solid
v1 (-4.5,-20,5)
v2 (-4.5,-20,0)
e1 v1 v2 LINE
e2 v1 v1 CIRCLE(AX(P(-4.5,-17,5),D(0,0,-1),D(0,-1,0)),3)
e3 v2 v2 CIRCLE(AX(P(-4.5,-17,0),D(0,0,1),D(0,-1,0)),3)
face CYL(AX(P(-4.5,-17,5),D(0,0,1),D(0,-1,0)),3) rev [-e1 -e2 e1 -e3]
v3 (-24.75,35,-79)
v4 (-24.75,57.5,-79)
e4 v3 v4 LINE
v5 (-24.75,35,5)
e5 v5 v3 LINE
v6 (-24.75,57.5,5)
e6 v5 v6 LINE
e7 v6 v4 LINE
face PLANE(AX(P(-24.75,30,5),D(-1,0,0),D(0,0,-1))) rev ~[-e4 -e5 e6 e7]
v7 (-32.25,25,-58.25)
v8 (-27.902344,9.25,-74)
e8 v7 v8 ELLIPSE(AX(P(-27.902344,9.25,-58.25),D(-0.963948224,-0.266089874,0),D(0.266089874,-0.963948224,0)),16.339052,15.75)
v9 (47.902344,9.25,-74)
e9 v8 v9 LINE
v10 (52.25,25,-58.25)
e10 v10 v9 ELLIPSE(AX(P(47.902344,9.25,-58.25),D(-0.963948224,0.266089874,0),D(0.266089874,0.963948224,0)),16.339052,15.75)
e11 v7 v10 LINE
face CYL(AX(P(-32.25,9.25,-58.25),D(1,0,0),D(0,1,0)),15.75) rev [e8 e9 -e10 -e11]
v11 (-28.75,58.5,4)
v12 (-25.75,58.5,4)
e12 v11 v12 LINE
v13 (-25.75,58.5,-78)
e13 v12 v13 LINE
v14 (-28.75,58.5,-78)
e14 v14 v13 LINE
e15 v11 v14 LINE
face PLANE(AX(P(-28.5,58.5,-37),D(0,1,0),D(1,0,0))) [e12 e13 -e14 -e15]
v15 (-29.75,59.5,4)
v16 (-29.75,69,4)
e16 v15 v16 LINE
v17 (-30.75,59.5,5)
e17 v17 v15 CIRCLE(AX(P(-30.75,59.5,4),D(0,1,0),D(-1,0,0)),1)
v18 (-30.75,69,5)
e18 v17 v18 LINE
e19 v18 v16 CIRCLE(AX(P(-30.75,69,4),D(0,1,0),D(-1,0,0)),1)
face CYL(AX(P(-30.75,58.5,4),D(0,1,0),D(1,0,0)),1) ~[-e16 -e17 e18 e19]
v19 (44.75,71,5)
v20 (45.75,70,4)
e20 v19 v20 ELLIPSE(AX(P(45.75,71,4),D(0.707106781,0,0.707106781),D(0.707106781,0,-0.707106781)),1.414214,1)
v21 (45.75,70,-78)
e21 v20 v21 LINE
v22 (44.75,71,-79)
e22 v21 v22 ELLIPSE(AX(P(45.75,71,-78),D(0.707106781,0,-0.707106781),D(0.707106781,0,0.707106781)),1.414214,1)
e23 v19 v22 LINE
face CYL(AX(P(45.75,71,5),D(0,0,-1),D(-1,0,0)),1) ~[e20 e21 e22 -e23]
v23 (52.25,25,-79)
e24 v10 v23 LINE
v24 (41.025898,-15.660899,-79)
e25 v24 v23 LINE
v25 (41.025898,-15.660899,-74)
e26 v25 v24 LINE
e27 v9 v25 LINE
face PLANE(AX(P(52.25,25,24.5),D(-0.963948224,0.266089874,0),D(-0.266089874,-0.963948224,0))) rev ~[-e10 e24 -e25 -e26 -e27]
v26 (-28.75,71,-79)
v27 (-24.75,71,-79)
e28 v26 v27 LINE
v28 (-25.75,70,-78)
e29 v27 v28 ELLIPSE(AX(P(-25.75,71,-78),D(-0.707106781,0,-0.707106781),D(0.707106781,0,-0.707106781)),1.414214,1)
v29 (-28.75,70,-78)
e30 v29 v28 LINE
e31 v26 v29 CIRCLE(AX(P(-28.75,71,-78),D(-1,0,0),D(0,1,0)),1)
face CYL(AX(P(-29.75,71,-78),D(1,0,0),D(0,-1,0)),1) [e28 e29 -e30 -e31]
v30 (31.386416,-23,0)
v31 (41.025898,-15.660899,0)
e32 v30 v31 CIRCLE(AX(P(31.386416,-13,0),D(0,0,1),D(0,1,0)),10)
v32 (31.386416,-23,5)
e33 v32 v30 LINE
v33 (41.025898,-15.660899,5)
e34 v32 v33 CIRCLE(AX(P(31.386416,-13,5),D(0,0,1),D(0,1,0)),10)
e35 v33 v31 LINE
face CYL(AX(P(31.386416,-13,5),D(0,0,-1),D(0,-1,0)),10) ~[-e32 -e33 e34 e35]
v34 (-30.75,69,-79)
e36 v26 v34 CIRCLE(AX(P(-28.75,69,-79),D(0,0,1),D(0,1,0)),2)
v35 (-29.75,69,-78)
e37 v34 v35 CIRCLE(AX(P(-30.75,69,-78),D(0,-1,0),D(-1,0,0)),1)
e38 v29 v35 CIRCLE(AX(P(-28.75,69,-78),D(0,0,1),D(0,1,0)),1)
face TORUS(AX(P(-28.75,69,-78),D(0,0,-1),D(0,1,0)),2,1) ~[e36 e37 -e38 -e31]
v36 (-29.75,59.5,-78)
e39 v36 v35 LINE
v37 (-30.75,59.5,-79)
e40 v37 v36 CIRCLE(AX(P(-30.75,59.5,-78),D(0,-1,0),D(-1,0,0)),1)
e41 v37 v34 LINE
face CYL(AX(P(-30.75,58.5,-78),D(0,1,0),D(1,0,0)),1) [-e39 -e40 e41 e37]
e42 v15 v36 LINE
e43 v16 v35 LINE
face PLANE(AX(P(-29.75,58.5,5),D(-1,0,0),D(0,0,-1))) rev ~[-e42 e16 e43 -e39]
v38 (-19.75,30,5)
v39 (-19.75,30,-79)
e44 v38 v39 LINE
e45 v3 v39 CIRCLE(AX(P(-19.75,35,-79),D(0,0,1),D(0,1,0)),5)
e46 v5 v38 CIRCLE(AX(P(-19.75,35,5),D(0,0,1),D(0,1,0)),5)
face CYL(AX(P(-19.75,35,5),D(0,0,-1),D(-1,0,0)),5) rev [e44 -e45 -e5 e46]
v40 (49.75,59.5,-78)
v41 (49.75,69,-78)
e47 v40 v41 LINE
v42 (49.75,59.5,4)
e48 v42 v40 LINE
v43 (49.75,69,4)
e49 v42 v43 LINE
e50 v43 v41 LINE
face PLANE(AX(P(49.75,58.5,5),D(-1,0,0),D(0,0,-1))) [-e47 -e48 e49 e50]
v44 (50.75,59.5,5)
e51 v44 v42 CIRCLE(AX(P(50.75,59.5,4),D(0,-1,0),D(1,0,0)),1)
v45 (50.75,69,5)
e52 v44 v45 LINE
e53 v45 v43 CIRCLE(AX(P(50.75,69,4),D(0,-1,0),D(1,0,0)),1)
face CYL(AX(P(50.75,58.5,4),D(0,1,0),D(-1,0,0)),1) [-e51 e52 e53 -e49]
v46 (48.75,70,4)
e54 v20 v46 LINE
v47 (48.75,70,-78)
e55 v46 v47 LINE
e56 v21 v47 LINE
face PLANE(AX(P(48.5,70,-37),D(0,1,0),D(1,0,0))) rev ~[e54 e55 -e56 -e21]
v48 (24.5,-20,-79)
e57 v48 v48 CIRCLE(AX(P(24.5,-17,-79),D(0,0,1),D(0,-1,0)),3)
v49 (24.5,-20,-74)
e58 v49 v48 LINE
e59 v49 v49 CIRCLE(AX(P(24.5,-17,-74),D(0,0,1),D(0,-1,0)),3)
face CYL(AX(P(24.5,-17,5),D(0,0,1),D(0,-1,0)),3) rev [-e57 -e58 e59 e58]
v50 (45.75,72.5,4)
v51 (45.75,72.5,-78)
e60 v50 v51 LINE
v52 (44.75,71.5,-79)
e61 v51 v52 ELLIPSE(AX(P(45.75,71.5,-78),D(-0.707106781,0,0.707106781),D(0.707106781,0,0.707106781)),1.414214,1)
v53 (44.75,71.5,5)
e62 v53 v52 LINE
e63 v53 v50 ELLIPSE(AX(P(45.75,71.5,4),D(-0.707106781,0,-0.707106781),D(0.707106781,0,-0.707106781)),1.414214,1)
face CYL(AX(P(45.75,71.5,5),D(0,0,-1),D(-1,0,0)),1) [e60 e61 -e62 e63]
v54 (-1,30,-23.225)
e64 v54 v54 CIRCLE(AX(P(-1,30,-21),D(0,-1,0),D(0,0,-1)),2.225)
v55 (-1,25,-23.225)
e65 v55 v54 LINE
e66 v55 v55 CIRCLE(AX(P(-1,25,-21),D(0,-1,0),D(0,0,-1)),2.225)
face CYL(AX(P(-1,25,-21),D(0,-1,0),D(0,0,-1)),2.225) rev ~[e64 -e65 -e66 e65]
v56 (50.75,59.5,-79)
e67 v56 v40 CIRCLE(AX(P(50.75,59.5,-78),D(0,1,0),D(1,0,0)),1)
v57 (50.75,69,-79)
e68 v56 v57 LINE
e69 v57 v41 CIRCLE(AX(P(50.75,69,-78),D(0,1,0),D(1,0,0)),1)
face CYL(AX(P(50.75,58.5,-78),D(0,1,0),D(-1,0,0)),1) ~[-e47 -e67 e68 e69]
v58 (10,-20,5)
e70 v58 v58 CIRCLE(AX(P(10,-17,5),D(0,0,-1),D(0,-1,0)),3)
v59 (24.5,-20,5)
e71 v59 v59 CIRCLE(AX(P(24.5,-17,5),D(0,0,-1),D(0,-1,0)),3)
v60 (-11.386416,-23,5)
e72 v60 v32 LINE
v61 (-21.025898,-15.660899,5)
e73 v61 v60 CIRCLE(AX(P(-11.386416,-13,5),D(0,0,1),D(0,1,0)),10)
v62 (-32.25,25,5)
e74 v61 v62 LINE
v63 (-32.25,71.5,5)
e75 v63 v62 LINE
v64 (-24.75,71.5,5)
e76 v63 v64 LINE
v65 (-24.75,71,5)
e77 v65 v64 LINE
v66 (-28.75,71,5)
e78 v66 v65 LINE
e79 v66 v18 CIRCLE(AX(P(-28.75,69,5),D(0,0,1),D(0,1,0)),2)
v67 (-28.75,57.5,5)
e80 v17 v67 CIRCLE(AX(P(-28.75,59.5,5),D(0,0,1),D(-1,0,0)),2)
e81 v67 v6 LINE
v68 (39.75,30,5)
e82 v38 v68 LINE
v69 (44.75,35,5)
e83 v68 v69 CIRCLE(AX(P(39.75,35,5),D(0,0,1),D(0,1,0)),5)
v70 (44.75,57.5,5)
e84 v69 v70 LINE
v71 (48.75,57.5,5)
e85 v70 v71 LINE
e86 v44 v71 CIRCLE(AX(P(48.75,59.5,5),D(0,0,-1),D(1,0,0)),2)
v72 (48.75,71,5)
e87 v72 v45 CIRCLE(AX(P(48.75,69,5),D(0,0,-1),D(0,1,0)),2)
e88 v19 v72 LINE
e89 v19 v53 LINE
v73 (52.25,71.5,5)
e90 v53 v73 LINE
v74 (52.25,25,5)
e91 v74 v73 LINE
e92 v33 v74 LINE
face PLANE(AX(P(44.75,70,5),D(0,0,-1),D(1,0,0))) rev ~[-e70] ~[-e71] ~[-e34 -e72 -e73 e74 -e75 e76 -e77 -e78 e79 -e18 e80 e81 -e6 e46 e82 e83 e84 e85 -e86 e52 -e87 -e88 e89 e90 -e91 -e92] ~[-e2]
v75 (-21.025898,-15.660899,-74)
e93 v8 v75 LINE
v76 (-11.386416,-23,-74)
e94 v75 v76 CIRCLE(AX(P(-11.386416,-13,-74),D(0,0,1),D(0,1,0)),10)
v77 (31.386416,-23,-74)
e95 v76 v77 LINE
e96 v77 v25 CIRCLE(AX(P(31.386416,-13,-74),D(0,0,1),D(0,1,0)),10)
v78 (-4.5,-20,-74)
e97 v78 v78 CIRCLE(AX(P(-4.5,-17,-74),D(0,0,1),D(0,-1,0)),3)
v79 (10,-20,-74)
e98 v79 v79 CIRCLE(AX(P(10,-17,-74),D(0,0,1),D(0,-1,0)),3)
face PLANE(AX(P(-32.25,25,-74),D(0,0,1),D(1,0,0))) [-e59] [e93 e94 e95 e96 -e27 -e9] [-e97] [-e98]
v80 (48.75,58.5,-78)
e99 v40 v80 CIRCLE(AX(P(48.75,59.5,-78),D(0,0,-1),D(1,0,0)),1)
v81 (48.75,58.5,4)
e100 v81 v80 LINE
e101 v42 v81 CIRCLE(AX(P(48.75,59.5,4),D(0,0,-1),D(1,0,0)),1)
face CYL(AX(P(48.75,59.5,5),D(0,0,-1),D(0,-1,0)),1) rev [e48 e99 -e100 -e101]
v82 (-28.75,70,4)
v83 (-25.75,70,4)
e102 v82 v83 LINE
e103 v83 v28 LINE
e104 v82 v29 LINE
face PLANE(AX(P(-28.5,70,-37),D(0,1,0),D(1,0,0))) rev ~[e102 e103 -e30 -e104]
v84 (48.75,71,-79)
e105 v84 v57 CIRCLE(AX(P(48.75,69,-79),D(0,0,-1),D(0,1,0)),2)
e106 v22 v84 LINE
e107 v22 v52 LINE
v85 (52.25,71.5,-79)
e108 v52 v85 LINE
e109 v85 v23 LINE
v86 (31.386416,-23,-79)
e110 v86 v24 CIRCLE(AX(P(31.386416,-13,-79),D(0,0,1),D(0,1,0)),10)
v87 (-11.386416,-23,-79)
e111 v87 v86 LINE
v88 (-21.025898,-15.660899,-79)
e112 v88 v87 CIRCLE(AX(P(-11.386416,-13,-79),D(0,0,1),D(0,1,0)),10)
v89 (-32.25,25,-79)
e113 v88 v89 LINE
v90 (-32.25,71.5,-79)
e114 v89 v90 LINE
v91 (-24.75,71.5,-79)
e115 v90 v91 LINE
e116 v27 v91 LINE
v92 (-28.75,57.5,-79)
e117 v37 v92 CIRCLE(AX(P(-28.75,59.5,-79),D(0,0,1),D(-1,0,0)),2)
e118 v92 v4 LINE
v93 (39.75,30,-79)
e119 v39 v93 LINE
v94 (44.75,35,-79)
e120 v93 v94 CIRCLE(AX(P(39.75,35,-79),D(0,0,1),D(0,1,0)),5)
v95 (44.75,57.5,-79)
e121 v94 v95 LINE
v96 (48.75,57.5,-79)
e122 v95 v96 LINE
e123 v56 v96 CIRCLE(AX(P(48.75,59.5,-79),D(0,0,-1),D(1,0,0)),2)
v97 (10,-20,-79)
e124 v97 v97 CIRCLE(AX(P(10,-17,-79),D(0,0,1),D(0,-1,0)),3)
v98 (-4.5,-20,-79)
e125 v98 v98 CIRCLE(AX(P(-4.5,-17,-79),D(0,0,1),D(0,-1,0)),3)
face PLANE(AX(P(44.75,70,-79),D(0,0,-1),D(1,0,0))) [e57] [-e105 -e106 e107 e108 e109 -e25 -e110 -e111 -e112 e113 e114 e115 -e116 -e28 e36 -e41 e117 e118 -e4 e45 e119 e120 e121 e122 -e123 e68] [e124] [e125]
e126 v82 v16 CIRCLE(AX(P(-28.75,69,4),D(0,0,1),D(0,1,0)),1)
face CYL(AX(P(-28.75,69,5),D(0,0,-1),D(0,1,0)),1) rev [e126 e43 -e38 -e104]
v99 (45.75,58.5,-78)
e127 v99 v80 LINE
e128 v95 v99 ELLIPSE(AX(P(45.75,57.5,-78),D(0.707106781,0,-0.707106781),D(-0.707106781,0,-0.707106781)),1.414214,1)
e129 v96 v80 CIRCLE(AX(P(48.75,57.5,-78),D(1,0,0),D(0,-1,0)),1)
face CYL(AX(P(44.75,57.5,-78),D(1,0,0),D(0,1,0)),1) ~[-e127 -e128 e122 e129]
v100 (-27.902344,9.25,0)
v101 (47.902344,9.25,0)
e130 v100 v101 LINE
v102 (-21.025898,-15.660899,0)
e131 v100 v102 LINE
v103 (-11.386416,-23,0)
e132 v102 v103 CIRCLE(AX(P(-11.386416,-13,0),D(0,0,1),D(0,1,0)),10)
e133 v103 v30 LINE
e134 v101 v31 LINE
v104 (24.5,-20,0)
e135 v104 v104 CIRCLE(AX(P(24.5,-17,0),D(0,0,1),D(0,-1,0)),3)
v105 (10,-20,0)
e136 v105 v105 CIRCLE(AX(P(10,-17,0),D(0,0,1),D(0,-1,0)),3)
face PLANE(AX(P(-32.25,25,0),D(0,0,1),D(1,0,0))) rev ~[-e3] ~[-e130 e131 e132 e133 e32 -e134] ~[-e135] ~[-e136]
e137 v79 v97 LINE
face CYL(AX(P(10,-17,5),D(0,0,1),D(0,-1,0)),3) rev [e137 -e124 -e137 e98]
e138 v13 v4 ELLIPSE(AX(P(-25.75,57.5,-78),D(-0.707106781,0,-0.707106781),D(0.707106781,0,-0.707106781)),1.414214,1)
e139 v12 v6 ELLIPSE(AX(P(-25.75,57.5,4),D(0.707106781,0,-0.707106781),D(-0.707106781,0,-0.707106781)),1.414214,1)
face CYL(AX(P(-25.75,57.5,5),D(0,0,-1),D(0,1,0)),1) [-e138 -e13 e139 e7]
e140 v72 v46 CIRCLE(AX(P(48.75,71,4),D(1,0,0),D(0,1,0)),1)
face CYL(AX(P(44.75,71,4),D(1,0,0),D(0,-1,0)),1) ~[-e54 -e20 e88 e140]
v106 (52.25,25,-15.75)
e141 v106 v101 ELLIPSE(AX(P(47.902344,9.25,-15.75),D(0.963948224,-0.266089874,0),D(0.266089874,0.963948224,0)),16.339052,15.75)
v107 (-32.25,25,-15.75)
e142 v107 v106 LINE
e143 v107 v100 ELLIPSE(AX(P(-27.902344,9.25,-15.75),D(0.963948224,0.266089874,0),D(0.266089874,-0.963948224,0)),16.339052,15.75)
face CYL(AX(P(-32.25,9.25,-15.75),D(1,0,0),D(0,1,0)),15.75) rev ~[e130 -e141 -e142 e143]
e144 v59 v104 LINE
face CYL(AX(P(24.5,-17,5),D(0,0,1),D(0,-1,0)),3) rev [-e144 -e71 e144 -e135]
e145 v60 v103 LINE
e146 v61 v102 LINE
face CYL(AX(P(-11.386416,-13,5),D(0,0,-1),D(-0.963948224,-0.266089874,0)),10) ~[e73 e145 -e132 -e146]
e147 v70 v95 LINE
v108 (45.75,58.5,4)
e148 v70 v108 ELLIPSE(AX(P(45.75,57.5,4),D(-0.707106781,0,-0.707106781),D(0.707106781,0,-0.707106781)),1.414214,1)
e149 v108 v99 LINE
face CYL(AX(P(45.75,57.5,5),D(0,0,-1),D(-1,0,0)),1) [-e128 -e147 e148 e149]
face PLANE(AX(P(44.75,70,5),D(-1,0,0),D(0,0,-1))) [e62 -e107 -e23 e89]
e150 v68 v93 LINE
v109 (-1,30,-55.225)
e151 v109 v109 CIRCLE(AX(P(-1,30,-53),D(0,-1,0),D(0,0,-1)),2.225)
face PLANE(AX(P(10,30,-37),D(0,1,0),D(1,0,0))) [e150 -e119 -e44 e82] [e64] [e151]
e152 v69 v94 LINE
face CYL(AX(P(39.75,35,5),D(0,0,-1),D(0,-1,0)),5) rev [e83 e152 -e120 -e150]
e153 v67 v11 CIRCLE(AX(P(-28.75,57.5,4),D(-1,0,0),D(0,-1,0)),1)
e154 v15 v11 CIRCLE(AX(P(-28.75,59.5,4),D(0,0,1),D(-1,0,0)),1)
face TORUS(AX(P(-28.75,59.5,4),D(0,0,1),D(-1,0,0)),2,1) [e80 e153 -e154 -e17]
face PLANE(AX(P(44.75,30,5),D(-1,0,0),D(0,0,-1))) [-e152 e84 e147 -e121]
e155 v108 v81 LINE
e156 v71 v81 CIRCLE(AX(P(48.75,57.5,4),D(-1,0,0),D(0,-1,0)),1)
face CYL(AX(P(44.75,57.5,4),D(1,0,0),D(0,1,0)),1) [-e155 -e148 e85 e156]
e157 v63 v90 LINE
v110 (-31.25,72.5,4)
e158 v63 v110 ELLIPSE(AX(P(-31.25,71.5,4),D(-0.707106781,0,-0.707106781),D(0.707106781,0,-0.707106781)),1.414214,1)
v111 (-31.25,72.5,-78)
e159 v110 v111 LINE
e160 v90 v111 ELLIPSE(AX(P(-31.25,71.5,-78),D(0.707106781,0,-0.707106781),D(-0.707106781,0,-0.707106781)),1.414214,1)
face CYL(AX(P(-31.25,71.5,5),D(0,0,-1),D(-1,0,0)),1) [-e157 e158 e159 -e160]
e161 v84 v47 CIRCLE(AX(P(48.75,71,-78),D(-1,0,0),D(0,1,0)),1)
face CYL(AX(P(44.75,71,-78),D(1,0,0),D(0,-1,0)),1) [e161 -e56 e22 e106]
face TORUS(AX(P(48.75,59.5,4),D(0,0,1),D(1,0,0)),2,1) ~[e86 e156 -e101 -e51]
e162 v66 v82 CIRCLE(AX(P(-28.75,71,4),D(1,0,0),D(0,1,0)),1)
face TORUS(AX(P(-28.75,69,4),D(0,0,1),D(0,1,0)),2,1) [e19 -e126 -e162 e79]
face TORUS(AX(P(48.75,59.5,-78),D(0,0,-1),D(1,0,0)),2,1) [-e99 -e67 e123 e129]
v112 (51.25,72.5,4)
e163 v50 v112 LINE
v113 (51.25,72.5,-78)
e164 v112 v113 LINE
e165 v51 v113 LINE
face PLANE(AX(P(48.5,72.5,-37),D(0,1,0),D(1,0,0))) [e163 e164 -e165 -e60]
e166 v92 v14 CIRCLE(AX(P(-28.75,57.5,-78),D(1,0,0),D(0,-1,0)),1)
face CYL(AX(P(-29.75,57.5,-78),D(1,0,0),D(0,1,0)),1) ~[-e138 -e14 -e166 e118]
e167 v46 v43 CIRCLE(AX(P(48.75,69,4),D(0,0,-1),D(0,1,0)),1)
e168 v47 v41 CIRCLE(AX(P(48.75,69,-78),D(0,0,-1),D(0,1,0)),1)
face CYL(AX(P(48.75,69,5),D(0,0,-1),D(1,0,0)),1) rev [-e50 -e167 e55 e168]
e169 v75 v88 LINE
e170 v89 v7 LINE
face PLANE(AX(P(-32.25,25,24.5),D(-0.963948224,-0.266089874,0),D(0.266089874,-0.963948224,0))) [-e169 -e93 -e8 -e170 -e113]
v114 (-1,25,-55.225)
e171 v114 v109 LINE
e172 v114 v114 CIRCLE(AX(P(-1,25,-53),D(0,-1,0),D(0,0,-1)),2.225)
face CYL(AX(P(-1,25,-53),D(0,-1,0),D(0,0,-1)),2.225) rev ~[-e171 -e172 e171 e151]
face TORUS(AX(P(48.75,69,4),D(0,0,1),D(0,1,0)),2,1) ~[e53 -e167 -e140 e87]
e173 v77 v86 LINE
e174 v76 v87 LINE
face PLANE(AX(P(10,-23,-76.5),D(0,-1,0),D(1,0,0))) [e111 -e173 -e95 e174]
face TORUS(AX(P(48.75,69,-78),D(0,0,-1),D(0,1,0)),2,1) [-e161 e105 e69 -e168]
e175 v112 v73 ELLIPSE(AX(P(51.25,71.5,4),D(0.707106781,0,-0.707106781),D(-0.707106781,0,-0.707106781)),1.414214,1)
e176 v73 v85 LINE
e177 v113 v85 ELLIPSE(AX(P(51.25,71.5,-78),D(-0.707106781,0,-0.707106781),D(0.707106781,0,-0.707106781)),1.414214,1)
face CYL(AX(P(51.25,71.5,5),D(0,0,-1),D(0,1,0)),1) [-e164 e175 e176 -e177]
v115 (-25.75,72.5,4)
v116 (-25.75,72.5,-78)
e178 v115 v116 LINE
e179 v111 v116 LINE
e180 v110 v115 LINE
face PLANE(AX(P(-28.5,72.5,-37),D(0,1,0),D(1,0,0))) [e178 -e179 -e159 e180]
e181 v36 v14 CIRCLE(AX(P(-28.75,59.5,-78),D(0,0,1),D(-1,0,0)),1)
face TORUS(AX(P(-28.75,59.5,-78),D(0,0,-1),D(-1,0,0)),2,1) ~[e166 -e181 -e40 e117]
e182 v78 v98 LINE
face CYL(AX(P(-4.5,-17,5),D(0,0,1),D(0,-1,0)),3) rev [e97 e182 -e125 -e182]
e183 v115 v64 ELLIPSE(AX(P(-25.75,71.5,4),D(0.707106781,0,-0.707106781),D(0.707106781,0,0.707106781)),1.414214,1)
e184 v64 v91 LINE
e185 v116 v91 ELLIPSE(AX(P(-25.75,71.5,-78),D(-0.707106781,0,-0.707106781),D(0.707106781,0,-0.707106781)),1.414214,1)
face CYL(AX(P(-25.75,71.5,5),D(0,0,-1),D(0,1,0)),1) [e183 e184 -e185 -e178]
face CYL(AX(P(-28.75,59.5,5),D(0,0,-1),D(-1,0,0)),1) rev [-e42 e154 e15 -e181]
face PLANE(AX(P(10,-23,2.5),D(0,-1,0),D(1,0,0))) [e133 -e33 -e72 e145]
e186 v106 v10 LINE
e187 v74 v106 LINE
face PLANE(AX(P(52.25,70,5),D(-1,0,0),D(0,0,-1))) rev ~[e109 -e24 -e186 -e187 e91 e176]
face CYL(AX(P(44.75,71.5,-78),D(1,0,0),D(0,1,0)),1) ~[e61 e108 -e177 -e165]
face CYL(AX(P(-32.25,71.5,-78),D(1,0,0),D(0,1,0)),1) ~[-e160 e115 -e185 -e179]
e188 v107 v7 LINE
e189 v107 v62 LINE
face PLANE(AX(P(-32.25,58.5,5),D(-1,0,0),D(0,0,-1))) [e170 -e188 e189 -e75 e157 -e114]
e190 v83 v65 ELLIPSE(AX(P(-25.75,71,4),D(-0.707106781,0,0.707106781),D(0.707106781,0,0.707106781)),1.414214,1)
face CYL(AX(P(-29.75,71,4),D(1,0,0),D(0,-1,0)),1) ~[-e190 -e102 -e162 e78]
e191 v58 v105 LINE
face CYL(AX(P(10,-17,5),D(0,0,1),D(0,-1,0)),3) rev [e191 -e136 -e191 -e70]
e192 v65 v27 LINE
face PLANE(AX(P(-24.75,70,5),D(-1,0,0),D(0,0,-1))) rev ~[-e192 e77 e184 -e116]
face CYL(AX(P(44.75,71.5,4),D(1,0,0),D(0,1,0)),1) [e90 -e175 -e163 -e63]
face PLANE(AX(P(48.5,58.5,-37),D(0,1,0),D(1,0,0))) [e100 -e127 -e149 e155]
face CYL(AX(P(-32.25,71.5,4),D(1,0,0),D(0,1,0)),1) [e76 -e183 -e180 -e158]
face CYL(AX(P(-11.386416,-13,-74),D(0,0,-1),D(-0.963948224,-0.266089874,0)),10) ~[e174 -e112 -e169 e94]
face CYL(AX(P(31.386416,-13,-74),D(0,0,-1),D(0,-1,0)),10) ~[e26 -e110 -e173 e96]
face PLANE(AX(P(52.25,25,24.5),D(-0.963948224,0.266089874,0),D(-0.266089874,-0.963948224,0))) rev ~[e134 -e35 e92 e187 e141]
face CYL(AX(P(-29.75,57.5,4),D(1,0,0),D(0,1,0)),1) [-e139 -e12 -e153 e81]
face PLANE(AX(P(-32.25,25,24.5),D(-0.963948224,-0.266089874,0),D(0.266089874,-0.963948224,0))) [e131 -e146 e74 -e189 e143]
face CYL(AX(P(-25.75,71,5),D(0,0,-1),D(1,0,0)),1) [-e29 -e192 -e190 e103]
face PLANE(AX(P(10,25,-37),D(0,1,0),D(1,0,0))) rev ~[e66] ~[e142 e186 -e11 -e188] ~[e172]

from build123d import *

# Parameters (mm, degrees)
SKETCH4_W               = 84.5
SKETCH4_H               = 84
BOSS_EXTRUDE1_DEPTH     = 5
SKETCH5_W               = 84.5
SKETCH5_H               = 5
BOSS_EXTRUDE2_DEPTH     = 48
SKETCH6_R               = 2.225
CUT_EXTRUDE1_DEPTH      = 48
SKETCH7_W               = 7.5
SKETCH7_H               = 84
BOSS_EXTRUDE3_DEPTH     = 28.5
SKETCH8_W               = 2.5
SKETCH8_H               = 84
BOSS_EXTRUDE4_DEPTH     = 11.5
CUT_EXTRUDE2_DEPTH      = 93
CUT_EXTRUDE2_DEPTH_BACK = 5
SKETCH9_R               = 3
SKETCH10_W              = 7.5
SKETCH10_H              = 84
BOSS_EXTRUDE5_DEPTH     = 2.5
FILLET1_R               = 1
CUT_EXTRUDE3_DEPTH      = 88
CUT_EXTRUDE3_DEPTH_BACK = 24.5
FILLET2_R               = 10
FILLET3_R               = 5
FILLET4_R               = 15.75


with BuildPart() as part:
    # Sketch4 → Boss-Extrude1 (new body)
    with BuildSketch(Plane(origin=(0, 25, 0), x_dir=(1, 0, 0), z_dir=(0, 1, 0))):
        with Locations((10, 37)):
            Rectangle(SKETCH4_W, SKETCH4_H)
    extrude(amount=BOSS_EXTRUDE1_DEPTH)

    # Sketch5 → Boss-Extrude2 (add)
    with BuildSketch(Plane.XZ.offset(-25)):
        with Locations((10, 2.5)):
            Rectangle(SKETCH5_W, SKETCH5_H)
        with Locations((10, -76.5)):
            Rectangle(SKETCH5_W, SKETCH5_H)
    extrude(amount=BOSS_EXTRUDE2_DEPTH)

    # Sketch6 → Cut-Extrude1 (cut)
    with BuildSketch(Plane.XZ.offset(-25)):
        with Locations(Location((-1, -21, 0), (0, 0, 270))):
            Circle(SKETCH6_R)
        with Locations(Location((-1, -53, 0), (0, 0, 270))):
            Circle(SKETCH6_R)
    extrude(amount=-CUT_EXTRUDE1_DEPTH, mode=Mode.SUBTRACT)

    # Sketch7 → Boss-Extrude3 (add)
    with BuildSketch(Plane(origin=(0, 30, 0), x_dir=(1, 0, 0), z_dir=(0, 1, 0))):
        with Locations((-28.5, 37)):
            Rectangle(SKETCH7_W, SKETCH7_H)
        with Locations((48.5, 37)):
            Rectangle(SKETCH7_W, SKETCH7_H)
    extrude(amount=BOSS_EXTRUDE3_DEPTH)

    # Sketch8 → Boss-Extrude4 (add)
    with BuildSketch(Plane(origin=(0, 58.5, 0), x_dir=(1, 0, 0), z_dir=(0, 1, 0))):
        with Locations((-31, 37)):
            Rectangle(SKETCH8_W, SKETCH8_H)
        with Locations((51, 37)):
            Rectangle(SKETCH8_W, SKETCH8_H)
    extrude(amount=BOSS_EXTRUDE4_DEPTH)

    # Sketch9 → Cut-Extrude2 (cut, two sides: drawn at the far end of the back side and taken through both)
    with BuildSketch(Plane(origin=(0, 0, 0), x_dir=(-1, 0, 0), z_dir=(0, 0, -1)).offset(-CUT_EXTRUDE2_DEPTH_BACK)):
        with Locations(Location((-10, -17, 0), (0, 0, 270))):
            Circle(SKETCH9_R)
        with Locations(Location((-24.5, -17, 0), (0, 0, 270))):
            Circle(SKETCH9_R)
        with Locations(Location((4.5, -17, 0), (0, 0, 270))):
            Circle(SKETCH9_R)
    extrude(amount=CUT_EXTRUDE2_DEPTH + CUT_EXTRUDE2_DEPTH_BACK, mode=Mode.SUBTRACT)

    # Sketch10 → Boss-Extrude5 (add)
    with BuildSketch(Plane(origin=(0, 70, 0), x_dir=(1, 0, 0), z_dir=(0, 1, 0))):
        with Locations((48.5, 37)):
            Rectangle(SKETCH10_W, SKETCH10_H)
        with Locations((-28.5, 37)):
            Rectangle(SKETCH10_W, SKETCH10_H)
    extrude(amount=BOSS_EXTRUDE5_DEPTH)

    # Fillet1
    fillet1_edges = [part.edges().sort_by_distance(p)[0] for p in [
        (47.25, 70, -79),
        (44.75, 70, -37),
        (47.25, 70, 5),
        (52.25, 72.5, -37),
        (48.5, 72.5, -79),
        (44.75, 72.5, -37),
        (48.5, 72.5, 5),
        (-27.25, 70, 5),
        (-24.75, 70, -37),
        (-27.25, 70, -79),
        (-32.25, 72.5, -37),
        (-28.5, 72.5, 5),
        (-24.75, 72.5, -37),
        (-28.5, 72.5, -79),
        (-24.75, 58.5, -37),
        (-27.25, 58.5, -79),
        (44.75, 58.5, -37),
        (47.25, 58.5, 5),
        (-27.25, 58.5, 5),
        (47.25, 58.5, -79),
        (-29.75, 58.5, -37),
        (-29.75, 64.25, 5),
        (-29.75, 64.25, -79),
        (-29.75, 70, -37),
        (49.75, 58.5, -37),
        (49.75, 64.25, -79),
        (49.75, 64.25, 5),
        (49.75, 70, -37),
    ]]
    fillet(fillet1_edges, radius=FILLET1_R)

    # Sketch11 → Cut-Extrude3 (cut, two sides: drawn at the far end of the back side and taken through both)
    with BuildSketch(Plane(origin=(0, 0, 0), x_dir=(-1, 0, 0), z_dir=(0, 0, -1)).offset(-CUT_EXTRUDE3_DEPTH_BACK)):
        Polygon((19, -23), (32.25, -23), (32.25, 25), align=None)
        Polygon((-39, -23), (-52.25, -23), (-52.25, 25), align=None)
    extrude(amount=CUT_EXTRUDE3_DEPTH + CUT_EXTRUDE3_DEPTH_BACK, mode=Mode.SUBTRACT)

    # Fillet2
    fillet2_edges = [part.edges().sort_by_distance(p)[0] for p in [
        (39, -23, 2.5),
        (-19, -23, 2.5),
        (-19, -23, -76.5),
        (39, -23, -76.5),
    ]]
    fillet(fillet2_edges, radius=FILLET2_R)

    # Fillet3
    fillet3_edges = [part.edges().sort_by_distance(p)[0] for p in [
        (-24.75, 30, -37),
        (44.75, 30, -37),
    ]]
    fillet(fillet3_edges, radius=FILLET3_R)

    # Fillet4
    fillet4_edges = [part.edges().sort_by_distance(p)[0] for p in [
        (10, 25, 0),
        (10, 25, -74),
    ]]
    fillet(fillet4_edges, radius=FILLET4_R)


solid = part.part
